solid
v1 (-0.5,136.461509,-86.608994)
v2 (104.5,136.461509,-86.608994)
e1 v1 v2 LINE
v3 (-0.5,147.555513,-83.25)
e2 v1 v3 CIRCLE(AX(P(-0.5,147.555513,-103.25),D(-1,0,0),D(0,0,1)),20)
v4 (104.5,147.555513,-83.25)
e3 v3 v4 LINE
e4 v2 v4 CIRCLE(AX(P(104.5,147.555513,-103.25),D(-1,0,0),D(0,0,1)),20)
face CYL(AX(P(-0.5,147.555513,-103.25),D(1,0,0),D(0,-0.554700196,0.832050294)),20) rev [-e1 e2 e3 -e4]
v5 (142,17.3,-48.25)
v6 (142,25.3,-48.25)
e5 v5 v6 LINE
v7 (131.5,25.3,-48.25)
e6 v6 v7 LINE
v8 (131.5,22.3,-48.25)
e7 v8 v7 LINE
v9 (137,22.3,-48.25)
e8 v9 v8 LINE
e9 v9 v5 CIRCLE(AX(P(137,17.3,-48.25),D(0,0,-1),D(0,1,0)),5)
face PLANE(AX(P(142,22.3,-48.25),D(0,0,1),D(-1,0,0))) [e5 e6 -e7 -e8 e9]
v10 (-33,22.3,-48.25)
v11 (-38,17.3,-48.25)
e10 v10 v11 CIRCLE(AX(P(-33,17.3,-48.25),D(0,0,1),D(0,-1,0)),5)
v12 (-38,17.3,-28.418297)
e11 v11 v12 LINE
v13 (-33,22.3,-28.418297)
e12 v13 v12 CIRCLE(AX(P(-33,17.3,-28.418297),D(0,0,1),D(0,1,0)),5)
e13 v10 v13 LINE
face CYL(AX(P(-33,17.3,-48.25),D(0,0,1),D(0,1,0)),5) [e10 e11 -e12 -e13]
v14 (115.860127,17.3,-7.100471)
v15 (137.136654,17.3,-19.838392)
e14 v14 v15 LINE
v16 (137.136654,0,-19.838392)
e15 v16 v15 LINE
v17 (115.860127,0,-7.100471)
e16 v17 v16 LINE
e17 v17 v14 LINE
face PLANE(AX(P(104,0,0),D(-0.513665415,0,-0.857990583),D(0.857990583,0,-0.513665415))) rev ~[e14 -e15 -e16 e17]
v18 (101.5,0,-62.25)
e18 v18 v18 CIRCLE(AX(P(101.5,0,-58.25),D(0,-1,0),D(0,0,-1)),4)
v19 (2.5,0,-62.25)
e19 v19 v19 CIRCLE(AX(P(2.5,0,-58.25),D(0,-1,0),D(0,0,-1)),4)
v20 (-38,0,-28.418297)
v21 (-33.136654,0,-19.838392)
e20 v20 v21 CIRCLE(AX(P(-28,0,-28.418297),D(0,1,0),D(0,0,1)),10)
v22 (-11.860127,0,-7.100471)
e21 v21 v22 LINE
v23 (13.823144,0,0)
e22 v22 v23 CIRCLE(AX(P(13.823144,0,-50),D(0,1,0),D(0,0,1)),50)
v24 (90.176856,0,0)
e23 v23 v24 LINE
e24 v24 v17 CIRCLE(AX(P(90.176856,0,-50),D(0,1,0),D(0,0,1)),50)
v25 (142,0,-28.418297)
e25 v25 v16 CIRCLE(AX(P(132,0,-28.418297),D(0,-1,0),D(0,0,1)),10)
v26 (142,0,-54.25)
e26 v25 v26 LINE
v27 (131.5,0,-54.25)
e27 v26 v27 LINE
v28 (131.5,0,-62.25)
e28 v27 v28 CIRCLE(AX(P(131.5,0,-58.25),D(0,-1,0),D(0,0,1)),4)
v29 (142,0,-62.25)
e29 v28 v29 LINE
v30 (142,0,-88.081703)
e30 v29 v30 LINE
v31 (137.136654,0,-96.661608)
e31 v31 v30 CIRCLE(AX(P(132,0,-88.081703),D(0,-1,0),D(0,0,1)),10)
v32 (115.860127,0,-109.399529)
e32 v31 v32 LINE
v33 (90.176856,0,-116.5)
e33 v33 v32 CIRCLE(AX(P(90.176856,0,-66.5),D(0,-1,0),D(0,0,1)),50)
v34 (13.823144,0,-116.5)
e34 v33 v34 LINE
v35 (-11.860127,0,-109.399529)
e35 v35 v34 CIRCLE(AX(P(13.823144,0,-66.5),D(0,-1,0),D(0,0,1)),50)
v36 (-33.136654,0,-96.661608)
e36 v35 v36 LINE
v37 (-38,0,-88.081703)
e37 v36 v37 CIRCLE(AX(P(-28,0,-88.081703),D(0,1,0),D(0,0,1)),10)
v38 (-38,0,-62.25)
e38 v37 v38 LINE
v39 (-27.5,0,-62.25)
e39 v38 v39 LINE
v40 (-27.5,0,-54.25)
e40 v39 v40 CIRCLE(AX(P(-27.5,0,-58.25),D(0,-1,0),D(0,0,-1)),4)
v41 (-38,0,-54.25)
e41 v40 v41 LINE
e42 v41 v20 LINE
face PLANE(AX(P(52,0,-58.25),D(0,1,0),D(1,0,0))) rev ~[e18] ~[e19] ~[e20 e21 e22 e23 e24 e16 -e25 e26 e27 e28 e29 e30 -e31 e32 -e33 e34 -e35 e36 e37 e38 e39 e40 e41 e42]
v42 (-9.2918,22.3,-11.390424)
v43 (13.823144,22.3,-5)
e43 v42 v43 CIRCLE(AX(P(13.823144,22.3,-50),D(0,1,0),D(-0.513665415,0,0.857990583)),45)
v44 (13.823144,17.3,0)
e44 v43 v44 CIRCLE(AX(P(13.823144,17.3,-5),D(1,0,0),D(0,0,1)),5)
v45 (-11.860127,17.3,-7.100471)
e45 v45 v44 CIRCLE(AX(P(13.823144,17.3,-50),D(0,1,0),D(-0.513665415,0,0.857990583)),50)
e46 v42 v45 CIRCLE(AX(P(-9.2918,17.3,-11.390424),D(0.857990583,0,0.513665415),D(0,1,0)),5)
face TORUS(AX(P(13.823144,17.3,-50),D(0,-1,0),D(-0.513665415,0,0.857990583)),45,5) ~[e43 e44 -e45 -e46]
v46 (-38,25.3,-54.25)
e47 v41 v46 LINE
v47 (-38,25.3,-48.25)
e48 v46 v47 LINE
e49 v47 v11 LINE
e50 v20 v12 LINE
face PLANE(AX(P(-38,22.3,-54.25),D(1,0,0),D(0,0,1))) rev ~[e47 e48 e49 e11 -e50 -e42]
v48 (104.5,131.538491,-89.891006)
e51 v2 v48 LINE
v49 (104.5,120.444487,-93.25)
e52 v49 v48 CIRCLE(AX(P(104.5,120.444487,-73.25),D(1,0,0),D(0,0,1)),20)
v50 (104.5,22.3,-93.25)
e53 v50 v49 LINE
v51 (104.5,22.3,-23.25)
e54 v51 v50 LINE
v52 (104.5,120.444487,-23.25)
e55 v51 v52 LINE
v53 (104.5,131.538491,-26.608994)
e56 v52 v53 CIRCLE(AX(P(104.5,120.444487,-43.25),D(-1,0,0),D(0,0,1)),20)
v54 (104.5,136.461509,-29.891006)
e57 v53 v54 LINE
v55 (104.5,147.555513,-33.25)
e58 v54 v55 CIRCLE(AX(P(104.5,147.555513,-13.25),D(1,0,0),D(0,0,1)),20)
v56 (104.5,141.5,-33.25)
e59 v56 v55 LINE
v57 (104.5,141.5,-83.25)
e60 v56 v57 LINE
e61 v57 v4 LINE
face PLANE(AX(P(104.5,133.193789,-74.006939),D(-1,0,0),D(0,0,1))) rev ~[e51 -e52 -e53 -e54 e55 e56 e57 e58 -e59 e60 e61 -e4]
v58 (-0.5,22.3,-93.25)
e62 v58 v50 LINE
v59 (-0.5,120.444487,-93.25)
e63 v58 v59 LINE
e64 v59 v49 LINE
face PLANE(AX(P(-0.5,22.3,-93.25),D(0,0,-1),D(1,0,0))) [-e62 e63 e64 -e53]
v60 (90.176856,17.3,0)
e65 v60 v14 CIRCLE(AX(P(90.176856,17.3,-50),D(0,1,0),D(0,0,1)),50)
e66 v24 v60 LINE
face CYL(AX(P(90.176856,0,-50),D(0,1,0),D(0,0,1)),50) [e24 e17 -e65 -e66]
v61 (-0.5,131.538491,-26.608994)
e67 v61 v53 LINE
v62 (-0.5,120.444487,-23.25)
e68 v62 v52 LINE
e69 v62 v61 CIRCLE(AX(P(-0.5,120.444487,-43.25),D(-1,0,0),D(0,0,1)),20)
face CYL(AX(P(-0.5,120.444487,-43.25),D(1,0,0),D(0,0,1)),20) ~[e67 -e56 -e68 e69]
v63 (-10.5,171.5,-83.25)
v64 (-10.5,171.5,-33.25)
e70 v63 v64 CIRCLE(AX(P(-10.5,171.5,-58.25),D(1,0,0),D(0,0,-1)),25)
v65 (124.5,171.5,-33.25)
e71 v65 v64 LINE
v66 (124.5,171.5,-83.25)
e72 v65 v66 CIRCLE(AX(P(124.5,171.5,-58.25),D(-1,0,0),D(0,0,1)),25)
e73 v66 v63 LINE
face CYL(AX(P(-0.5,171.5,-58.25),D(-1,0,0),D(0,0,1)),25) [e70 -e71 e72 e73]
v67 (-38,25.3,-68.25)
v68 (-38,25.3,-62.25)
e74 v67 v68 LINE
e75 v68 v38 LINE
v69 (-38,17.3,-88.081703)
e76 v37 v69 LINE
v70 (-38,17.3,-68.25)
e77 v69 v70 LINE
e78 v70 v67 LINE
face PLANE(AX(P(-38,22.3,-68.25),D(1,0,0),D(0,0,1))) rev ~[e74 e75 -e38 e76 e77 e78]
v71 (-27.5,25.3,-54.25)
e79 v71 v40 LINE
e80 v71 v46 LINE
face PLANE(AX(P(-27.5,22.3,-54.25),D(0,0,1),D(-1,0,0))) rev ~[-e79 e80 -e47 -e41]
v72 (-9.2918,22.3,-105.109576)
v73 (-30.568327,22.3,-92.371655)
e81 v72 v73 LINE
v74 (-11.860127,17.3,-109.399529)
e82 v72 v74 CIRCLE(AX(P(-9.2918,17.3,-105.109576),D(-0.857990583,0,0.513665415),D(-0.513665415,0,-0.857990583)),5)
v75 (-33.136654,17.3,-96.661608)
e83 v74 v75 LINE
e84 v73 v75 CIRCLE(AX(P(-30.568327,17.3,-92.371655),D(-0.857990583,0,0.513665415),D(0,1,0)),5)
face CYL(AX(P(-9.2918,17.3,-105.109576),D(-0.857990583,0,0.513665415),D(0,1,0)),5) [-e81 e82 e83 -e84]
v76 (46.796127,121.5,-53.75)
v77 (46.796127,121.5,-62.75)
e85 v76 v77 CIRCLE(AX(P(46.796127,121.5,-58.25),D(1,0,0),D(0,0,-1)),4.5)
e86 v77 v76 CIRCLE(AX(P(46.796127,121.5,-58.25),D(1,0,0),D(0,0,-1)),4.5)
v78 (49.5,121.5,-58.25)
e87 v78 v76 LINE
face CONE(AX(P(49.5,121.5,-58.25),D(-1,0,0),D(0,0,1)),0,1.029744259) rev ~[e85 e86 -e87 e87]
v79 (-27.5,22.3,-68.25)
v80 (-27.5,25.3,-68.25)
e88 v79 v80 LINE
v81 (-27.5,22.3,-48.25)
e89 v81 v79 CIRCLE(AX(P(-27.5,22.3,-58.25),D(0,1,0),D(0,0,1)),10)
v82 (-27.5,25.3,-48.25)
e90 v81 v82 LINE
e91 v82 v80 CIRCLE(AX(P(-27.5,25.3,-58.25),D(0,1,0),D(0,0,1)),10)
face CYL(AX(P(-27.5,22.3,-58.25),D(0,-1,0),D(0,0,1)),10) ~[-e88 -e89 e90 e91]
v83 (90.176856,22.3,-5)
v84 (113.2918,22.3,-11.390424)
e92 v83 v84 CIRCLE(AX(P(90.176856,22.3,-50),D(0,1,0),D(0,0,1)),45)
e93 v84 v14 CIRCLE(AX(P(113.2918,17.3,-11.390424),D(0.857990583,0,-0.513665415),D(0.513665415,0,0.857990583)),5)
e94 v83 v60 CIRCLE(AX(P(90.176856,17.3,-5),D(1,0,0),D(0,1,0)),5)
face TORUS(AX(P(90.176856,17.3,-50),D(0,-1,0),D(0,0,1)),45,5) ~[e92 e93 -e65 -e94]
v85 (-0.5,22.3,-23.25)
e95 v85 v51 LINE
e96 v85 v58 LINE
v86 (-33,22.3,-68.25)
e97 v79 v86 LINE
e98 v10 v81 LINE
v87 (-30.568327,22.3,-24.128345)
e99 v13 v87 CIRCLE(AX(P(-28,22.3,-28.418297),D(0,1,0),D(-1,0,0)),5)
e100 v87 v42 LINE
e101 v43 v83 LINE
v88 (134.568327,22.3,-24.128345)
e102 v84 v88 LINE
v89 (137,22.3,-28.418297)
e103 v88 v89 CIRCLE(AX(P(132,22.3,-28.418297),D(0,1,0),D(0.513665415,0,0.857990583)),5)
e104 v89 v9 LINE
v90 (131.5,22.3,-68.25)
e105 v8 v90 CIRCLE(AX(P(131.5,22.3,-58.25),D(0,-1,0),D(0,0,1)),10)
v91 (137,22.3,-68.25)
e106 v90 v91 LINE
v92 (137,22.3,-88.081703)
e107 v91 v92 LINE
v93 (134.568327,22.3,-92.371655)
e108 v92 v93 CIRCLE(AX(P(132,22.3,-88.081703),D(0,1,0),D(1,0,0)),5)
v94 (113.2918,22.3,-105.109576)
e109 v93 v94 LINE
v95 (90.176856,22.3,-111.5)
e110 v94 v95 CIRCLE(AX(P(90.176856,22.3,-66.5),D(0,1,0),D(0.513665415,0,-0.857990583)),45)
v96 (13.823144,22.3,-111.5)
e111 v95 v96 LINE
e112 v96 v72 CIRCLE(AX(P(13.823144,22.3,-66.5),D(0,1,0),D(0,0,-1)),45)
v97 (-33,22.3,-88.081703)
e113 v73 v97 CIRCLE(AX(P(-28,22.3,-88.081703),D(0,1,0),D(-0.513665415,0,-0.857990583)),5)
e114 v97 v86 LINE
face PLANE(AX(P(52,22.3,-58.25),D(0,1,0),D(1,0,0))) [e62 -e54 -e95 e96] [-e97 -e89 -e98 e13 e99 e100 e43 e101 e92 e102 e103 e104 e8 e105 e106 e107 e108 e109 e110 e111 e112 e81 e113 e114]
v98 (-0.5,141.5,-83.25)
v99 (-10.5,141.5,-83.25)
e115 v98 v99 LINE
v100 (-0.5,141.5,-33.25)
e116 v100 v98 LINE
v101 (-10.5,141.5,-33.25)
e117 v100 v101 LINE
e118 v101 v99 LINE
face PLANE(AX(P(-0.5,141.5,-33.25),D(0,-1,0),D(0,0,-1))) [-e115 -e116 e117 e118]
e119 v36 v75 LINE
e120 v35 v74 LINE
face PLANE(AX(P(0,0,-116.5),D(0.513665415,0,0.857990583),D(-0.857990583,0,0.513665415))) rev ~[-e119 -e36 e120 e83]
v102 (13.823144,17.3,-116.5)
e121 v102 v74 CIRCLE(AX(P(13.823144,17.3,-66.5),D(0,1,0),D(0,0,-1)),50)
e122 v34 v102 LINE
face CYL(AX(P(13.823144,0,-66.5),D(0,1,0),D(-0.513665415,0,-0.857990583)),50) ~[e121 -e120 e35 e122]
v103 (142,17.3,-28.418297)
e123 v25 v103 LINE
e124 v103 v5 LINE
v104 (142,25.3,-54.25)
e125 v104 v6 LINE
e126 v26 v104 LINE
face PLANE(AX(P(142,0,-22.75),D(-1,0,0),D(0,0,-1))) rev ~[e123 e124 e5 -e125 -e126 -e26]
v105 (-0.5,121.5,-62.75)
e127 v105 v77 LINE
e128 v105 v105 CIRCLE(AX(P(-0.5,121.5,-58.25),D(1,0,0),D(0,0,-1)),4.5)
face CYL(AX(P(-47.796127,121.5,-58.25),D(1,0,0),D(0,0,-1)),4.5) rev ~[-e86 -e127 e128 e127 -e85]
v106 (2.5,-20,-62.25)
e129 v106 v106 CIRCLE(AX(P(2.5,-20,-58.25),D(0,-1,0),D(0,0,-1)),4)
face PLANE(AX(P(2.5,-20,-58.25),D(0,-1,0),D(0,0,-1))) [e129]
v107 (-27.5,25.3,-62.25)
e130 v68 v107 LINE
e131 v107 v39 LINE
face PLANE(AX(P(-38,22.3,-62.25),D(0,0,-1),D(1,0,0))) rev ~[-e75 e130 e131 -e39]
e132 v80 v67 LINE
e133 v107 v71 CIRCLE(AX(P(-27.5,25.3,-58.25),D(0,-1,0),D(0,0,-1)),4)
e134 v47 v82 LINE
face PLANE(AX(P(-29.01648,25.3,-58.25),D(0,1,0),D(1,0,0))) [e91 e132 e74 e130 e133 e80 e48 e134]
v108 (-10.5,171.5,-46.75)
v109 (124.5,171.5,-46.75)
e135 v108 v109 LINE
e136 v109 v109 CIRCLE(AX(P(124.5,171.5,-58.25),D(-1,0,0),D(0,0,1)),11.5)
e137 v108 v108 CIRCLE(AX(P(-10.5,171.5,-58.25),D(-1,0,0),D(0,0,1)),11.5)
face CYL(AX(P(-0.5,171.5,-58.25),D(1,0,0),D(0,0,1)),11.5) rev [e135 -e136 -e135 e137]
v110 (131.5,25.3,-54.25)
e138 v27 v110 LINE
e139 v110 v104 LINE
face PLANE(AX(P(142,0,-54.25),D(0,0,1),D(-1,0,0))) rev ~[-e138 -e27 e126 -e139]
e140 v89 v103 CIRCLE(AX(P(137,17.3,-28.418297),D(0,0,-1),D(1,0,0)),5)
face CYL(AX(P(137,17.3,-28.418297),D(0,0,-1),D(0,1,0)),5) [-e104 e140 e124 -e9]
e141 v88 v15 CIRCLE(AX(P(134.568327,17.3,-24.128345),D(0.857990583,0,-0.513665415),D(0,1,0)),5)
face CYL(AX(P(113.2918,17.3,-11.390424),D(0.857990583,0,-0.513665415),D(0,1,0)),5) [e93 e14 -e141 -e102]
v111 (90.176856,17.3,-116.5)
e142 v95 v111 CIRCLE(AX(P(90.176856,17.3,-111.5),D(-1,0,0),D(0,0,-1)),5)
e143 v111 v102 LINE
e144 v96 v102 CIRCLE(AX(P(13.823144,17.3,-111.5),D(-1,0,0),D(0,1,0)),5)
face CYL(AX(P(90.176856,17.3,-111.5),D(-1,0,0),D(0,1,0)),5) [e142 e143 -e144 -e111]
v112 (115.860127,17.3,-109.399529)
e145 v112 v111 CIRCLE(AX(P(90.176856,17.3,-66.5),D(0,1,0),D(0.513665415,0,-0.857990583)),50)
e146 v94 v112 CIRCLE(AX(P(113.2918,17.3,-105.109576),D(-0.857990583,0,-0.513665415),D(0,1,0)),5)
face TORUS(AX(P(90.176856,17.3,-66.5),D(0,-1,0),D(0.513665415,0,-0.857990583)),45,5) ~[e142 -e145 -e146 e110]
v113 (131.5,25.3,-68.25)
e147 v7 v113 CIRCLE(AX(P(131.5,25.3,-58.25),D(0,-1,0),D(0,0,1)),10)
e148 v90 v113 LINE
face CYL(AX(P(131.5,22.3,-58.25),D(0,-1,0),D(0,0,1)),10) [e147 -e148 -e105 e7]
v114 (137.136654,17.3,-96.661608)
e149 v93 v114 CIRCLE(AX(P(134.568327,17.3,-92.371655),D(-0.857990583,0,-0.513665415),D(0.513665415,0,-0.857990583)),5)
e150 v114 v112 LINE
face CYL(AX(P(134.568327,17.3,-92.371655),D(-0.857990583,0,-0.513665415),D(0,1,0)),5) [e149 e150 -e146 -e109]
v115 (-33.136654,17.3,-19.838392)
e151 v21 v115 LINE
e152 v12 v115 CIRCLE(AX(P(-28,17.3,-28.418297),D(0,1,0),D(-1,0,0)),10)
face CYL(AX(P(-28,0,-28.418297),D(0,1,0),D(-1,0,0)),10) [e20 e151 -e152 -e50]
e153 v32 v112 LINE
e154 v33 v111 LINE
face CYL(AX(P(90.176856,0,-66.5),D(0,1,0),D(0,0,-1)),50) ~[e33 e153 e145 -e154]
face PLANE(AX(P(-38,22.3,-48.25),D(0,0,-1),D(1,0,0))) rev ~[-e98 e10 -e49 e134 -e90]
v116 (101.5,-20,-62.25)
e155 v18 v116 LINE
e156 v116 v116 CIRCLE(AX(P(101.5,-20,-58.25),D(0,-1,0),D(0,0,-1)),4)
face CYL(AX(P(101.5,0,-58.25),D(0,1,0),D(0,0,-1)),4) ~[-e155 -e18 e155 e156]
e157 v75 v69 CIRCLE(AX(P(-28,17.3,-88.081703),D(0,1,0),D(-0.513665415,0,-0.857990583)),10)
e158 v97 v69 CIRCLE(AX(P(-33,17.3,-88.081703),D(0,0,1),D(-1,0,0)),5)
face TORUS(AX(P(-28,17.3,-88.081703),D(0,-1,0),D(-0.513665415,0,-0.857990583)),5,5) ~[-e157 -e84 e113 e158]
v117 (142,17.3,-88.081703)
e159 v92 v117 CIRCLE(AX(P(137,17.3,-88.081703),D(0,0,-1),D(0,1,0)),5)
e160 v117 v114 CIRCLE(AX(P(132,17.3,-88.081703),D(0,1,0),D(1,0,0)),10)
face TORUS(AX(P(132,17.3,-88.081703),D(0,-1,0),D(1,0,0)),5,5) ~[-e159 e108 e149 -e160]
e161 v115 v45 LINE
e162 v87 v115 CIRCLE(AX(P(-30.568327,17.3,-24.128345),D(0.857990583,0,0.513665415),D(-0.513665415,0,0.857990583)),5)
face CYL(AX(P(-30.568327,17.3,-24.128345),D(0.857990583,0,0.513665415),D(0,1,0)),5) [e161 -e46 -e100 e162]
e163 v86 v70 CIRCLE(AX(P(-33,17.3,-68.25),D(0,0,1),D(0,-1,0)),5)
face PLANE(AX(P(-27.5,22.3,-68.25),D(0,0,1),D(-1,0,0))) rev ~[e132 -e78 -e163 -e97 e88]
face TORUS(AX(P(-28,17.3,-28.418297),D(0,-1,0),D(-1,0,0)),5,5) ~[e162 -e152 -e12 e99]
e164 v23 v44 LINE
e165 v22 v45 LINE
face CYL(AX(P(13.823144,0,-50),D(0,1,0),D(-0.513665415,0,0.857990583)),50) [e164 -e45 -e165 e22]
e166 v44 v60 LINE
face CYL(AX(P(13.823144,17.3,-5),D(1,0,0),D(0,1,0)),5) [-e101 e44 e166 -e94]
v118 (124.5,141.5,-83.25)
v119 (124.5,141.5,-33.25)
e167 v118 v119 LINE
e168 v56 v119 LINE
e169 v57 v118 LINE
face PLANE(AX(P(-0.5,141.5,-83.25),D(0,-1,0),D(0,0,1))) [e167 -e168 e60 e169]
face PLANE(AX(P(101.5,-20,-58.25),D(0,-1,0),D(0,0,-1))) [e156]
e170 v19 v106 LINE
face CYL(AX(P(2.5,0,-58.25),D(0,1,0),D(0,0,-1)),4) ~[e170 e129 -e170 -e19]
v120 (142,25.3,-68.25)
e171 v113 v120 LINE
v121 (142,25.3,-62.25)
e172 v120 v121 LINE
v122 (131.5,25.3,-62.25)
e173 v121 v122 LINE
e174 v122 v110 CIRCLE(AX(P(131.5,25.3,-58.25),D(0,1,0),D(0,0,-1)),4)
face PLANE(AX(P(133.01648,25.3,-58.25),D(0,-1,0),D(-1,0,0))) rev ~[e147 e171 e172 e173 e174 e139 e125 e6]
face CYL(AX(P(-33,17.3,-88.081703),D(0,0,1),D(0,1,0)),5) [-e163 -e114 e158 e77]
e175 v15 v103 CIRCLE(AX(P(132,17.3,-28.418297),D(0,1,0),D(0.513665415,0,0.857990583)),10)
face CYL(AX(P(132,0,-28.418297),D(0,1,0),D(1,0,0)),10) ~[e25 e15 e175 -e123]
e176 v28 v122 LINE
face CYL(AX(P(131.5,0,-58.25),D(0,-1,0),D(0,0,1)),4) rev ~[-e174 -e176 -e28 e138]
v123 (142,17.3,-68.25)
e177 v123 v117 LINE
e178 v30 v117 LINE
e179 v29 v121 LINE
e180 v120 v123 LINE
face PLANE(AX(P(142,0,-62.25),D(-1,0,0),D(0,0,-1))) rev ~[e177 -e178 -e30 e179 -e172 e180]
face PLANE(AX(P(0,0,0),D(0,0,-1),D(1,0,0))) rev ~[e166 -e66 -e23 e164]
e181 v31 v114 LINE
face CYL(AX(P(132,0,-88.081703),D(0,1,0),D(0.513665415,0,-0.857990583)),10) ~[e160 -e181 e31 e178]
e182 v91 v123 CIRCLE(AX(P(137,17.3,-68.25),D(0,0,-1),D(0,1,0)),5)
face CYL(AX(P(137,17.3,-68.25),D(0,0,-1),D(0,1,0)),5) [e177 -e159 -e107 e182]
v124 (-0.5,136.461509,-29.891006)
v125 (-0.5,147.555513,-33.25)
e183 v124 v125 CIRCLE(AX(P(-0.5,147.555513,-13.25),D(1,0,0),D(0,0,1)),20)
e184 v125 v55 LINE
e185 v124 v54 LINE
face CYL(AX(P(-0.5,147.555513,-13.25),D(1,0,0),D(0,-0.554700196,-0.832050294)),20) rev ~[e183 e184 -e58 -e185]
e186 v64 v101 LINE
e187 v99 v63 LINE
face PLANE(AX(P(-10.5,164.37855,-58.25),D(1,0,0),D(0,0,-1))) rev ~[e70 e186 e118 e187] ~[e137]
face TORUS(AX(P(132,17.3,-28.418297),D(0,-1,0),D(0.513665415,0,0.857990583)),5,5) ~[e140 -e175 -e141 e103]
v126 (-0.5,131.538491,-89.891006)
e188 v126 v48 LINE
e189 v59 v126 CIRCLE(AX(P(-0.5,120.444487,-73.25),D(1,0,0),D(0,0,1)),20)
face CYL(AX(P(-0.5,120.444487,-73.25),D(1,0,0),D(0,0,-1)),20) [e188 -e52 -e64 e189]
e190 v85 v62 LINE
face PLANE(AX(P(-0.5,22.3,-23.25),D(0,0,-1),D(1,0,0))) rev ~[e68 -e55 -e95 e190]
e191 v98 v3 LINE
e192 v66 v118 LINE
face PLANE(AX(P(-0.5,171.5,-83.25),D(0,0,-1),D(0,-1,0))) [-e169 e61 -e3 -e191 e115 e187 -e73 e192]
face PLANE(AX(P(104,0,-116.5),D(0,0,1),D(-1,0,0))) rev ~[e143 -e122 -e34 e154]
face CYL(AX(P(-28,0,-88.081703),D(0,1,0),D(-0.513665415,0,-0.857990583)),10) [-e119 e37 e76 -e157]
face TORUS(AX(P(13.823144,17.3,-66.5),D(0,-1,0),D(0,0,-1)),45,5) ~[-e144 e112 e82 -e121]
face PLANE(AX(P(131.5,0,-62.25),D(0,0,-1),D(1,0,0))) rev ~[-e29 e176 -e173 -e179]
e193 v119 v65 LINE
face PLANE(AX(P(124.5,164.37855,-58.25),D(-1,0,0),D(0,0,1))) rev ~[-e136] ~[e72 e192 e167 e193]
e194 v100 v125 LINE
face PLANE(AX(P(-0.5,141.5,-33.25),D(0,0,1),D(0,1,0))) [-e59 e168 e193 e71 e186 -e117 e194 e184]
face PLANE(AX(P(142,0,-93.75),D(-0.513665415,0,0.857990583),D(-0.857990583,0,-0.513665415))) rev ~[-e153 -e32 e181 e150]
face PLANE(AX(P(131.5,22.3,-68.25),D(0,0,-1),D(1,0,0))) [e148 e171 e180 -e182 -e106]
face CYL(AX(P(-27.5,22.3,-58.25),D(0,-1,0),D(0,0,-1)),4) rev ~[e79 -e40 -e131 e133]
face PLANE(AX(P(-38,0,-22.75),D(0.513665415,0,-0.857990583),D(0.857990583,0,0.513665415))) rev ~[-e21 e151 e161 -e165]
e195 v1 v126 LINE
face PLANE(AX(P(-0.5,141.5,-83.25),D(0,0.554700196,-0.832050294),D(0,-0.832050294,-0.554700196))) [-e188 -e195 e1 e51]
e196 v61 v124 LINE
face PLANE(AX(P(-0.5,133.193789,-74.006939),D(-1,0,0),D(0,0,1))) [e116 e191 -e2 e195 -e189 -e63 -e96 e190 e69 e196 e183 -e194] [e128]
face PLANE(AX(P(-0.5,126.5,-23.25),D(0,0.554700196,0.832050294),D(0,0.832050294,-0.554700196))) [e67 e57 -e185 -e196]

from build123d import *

# Parameters (mm, degrees)
BASE_DEPTH                    = 22.3
RESALTO_FUROS_DE_FIXA_O_DEPTH = 3
SKETCH4_W                     = 105
SKETCH4_H                     = 70
CORPO_RETANGULAR_DEPTH        = 104.2
CORPO_INCLINADO_DEPTH         = 105
SKETCH5_4_R                   = 11.5
CORPO_ARREDONDADO_BACK_DEPTH  = 10
SKETCH5_5_R                   = 11.5
CORPO_ARREDONDADO_FRONT_DEPTH = 125
SKETCH9_R                     = 4
PINOS_GUIA_DEPTH              = 20
RAIOS_50MM_R                  = 50
RAIOS_20MM_R                  = 20
RAIOS_10MM_R                  = 10
RAIOS_5MM_R                   = 5
FURO_M10X50_D                 = 9
FURO_M10X50_DEPTH             = 47.296127214
FURO_M10X50_TIP               = 2.703872786


with BuildPart() as part:
    # Sketch1 → Base (new body)
    with BuildSketch(Plane(origin=(0, 0, 0), x_dir=(1, 0, 0), z_dir=(0, 1, 0))):
        with BuildLine():
            Line((-27.5, 54.25), (-38, 54.25))
            Line((-38, 54.25), (-38, 22.75))
            Line((-38, 22.75), (0, 0))
            Line((0, 0), (104, 0))
            Line((104, 0), (142, 22.75))
            Line((142, 22.75), (142, 54.25))
            Line((142, 54.25), (131.5, 54.25))
            ThreePointArc((131.5, 54.25), (127.5, 58.25), (131.5, 62.25))
            Line((131.5, 62.25), (142, 62.25))
            Line((142, 62.25), (142, 93.75))
            Line((142, 93.75), (104, 116.5))
            Line((104, 116.5), (0, 116.5))
            Line((0, 116.5), (-38, 93.75))
            Line((-38, 93.75), (-38, 62.25))
            Line((-38, 62.25), (-27.5, 62.25))
            ThreePointArc((-27.5, 62.25), (-23.5, 58.25), (-27.5, 54.25))
        make_face()
    extrude(amount=BASE_DEPTH)

    # Sketch3 → Resalto - Furos de Fixação (add)
    with BuildSketch(Plane(origin=(0, 22.3, 0), x_dir=(1, 0, 0), z_dir=(0, 1, 0))):
        with BuildLine():
            Line((-27.5, 54.25), (-38, 54.25))
            Line((-38, 54.25), (-38, 48.25))
            Line((-38, 48.25), (-27.5, 48.25))
            ThreePointArc((-27.5, 48.25), (-17.5, 58.25), (-27.5, 68.25))
            Line((-27.5, 68.25), (-38, 68.25))
            Line((-38, 68.25), (-38, 62.25))
            Line((-38, 62.25), (-27.5, 62.25))
            ThreePointArc((-27.5, 62.25), (-23.5, 58.25), (-27.5, 54.25))
        make_face()
        with BuildLine():
            Line((142, 54.25), (142, 48.25))
            Line((142, 48.25), (131.5, 48.25))
            ThreePointArc((131.5, 48.25), (121.5, 58.25), (131.5, 68.25))
            Line((131.5, 68.25), (142, 68.25))
            Line((142, 68.25), (142, 62.25))
            Line((142, 62.25), (131.5, 62.25))
            ThreePointArc((131.5, 62.25), (127.5, 58.25), (131.5, 54.25))
            Line((131.5, 54.25), (142, 54.25))
        make_face()
    extrude(amount=RESALTO_FUROS_DE_FIXA_O_DEPTH)

    # Sketch4 → Corpo Retangular (add)
    with BuildSketch(Plane(origin=(0, 22.3, 0), x_dir=(1, 0, 0), z_dir=(0, 1, 0))):
        with Locations((52, 58.25)):
            Rectangle(SKETCH4_W, SKETCH4_H)
    extrude(amount=CORPO_RETANGULAR_DEPTH)

    # Sketch5 → Corpo Inclinado (add)
    with BuildSketch(Plane.ZY.offset(0.5)):
        Polygon((-33.25, 141.5), (-83.25, 141.5), (-93.25, 126.5), (-23.25, 126.5), align=None)
    extrude(amount=-CORPO_INCLINADO_DEPTH)



with BuildPart() as body_2:
    # Sketch5<4> → Corpo Arredondado - Back (new body)
    with BuildSketch(Plane.ZY.offset(0.5)):
        with BuildLine():
            Line((-33.25, 141.5), (-33.25, 171.5))
            ThreePointArc((-33.25, 171.5), (-58.25, 196.5), (-83.25, 171.5))
            Line((-83.25, 171.5), (-83.25, 141.5))
            Line((-83.25, 141.5), (-33.25, 141.5))
        make_face()
        with Locations((-58.25, 171.5)):
            Circle(SKETCH5_4_R, mode=Mode.SUBTRACT)
    extrude(amount=CORPO_ARREDONDADO_BACK_DEPTH)


with BuildPart() as part_1:
    add(part.part)

    add(body_2.part)  # Corpo Arredondado - Front merges body 2
    # Sketch5<5> → Corpo Arredondado - Front (add)
    with BuildSketch(Plane.ZY.offset(0.5)):
        with BuildLine():
            Line((-33.25, 141.5), (-33.25, 171.5))
            ThreePointArc((-33.25, 171.5), (-58.25, 196.5), (-83.25, 171.5))
            Line((-83.25, 171.5), (-83.25, 141.5))
            Line((-83.25, 141.5), (-33.25, 141.5))
        make_face()
        with Locations((-58.25, 171.5)):
            Circle(SKETCH5_5_R, mode=Mode.SUBTRACT)
    extrude(amount=-CORPO_ARREDONDADO_FRONT_DEPTH)

    # Sketch9 → Pinos Guia (add)
    with BuildSketch(Plane.XZ):
        with Locations((2.5, -58.25)):
            Circle(SKETCH9_R)
        with Locations((101.5, -58.25)):
            Circle(SKETCH9_R)
    extrude(amount=PINOS_GUIA_DEPTH)

    # Raios 50mm
    raios_50mm_edges = [part_1.edges().sort_by_distance(p)[0] for p in [
        (0, 11.15, -116.5),
        (104, 11.15, -116.5),
        (0, 11.15, 0),
        (104, 11.15, 0),
    ]]
    fillet(raios_50mm_edges, radius=RAIOS_50MM_R)

    # Raios 20mm
    raios_20mm_edges = [part_1.edges().sort_by_distance(p)[0] for p in [
        (52, 126.5, -93.25),
        (52, 141.5, -83.25),
        (52, 141.5, -33.25),
        (52, 126.5, -23.25),
    ]]
    fillet(raios_20mm_edges, radius=RAIOS_20MM_R)

    # Raios 10mm
    raios_10mm_edges = [part_1.edges().sort_by_distance(p)[0] for p in [
        (-38, 11.15, -93.75),
        (-38, 11.15, -22.75),
        (142, 11.15, -93.75),
        (142, 11.15, -22.75),
    ]]
    fillet(raios_10mm_edges, radius=RAIOS_10MM_R)

    # Raios 5mm
    raios_5mm_edges = [part_1.edges().sort_by_distance(p)[0] for p in [
        (142, 22.3, -78.165851268),
        (140.699613253, 22.3, -93.01290211),
        (126.498390623, 22.3, -103.030568772),
        (103.500210672, 22.3, -114.692200918),
        (-38, 22.3, -78.165851268),
        (-36.699613253, 22.3, -93.01290211),
        (-22.498390623, 22.3, -103.030568772),
        (0.499789328, 22.3, -114.692200918),
        (-38, 22.3, -38.334148732),
        (-36.699613253, 22.3, -23.48709789),
        (-22.498390623, 22.3, -13.469431228),
        (0.499789328, 22.3, -1.807799082),
        (142, 22.3, -38.334148732),
        (140.699613253, 22.3, -23.48709789),
        (126.498390623, 22.3, -13.469431228),
        (103.500210672, 22.3, -1.807799082),
        (52, 22.3, -116.5),
        (52, 22.3, 0),
    ]]
    fillet(raios_5mm_edges, radius=RAIOS_5MM_R)

    # Furo M10x50
    with Locations(Plane.ZY.offset(0.5)):
        with Locations((-58.25, 121.5)):
            Hole(FURO_M10X50_D / 2, depth=FURO_M10X50_DEPTH)
            with Locations((0, 0, -(FURO_M10X50_DEPTH + FURO_M10X50_TIP / 2))):  # 118° drill point
                Cone(0, FURO_M10X50_D / 2, FURO_M10X50_TIP, mode=Mode.SUBTRACT)


solid = part_1.part
